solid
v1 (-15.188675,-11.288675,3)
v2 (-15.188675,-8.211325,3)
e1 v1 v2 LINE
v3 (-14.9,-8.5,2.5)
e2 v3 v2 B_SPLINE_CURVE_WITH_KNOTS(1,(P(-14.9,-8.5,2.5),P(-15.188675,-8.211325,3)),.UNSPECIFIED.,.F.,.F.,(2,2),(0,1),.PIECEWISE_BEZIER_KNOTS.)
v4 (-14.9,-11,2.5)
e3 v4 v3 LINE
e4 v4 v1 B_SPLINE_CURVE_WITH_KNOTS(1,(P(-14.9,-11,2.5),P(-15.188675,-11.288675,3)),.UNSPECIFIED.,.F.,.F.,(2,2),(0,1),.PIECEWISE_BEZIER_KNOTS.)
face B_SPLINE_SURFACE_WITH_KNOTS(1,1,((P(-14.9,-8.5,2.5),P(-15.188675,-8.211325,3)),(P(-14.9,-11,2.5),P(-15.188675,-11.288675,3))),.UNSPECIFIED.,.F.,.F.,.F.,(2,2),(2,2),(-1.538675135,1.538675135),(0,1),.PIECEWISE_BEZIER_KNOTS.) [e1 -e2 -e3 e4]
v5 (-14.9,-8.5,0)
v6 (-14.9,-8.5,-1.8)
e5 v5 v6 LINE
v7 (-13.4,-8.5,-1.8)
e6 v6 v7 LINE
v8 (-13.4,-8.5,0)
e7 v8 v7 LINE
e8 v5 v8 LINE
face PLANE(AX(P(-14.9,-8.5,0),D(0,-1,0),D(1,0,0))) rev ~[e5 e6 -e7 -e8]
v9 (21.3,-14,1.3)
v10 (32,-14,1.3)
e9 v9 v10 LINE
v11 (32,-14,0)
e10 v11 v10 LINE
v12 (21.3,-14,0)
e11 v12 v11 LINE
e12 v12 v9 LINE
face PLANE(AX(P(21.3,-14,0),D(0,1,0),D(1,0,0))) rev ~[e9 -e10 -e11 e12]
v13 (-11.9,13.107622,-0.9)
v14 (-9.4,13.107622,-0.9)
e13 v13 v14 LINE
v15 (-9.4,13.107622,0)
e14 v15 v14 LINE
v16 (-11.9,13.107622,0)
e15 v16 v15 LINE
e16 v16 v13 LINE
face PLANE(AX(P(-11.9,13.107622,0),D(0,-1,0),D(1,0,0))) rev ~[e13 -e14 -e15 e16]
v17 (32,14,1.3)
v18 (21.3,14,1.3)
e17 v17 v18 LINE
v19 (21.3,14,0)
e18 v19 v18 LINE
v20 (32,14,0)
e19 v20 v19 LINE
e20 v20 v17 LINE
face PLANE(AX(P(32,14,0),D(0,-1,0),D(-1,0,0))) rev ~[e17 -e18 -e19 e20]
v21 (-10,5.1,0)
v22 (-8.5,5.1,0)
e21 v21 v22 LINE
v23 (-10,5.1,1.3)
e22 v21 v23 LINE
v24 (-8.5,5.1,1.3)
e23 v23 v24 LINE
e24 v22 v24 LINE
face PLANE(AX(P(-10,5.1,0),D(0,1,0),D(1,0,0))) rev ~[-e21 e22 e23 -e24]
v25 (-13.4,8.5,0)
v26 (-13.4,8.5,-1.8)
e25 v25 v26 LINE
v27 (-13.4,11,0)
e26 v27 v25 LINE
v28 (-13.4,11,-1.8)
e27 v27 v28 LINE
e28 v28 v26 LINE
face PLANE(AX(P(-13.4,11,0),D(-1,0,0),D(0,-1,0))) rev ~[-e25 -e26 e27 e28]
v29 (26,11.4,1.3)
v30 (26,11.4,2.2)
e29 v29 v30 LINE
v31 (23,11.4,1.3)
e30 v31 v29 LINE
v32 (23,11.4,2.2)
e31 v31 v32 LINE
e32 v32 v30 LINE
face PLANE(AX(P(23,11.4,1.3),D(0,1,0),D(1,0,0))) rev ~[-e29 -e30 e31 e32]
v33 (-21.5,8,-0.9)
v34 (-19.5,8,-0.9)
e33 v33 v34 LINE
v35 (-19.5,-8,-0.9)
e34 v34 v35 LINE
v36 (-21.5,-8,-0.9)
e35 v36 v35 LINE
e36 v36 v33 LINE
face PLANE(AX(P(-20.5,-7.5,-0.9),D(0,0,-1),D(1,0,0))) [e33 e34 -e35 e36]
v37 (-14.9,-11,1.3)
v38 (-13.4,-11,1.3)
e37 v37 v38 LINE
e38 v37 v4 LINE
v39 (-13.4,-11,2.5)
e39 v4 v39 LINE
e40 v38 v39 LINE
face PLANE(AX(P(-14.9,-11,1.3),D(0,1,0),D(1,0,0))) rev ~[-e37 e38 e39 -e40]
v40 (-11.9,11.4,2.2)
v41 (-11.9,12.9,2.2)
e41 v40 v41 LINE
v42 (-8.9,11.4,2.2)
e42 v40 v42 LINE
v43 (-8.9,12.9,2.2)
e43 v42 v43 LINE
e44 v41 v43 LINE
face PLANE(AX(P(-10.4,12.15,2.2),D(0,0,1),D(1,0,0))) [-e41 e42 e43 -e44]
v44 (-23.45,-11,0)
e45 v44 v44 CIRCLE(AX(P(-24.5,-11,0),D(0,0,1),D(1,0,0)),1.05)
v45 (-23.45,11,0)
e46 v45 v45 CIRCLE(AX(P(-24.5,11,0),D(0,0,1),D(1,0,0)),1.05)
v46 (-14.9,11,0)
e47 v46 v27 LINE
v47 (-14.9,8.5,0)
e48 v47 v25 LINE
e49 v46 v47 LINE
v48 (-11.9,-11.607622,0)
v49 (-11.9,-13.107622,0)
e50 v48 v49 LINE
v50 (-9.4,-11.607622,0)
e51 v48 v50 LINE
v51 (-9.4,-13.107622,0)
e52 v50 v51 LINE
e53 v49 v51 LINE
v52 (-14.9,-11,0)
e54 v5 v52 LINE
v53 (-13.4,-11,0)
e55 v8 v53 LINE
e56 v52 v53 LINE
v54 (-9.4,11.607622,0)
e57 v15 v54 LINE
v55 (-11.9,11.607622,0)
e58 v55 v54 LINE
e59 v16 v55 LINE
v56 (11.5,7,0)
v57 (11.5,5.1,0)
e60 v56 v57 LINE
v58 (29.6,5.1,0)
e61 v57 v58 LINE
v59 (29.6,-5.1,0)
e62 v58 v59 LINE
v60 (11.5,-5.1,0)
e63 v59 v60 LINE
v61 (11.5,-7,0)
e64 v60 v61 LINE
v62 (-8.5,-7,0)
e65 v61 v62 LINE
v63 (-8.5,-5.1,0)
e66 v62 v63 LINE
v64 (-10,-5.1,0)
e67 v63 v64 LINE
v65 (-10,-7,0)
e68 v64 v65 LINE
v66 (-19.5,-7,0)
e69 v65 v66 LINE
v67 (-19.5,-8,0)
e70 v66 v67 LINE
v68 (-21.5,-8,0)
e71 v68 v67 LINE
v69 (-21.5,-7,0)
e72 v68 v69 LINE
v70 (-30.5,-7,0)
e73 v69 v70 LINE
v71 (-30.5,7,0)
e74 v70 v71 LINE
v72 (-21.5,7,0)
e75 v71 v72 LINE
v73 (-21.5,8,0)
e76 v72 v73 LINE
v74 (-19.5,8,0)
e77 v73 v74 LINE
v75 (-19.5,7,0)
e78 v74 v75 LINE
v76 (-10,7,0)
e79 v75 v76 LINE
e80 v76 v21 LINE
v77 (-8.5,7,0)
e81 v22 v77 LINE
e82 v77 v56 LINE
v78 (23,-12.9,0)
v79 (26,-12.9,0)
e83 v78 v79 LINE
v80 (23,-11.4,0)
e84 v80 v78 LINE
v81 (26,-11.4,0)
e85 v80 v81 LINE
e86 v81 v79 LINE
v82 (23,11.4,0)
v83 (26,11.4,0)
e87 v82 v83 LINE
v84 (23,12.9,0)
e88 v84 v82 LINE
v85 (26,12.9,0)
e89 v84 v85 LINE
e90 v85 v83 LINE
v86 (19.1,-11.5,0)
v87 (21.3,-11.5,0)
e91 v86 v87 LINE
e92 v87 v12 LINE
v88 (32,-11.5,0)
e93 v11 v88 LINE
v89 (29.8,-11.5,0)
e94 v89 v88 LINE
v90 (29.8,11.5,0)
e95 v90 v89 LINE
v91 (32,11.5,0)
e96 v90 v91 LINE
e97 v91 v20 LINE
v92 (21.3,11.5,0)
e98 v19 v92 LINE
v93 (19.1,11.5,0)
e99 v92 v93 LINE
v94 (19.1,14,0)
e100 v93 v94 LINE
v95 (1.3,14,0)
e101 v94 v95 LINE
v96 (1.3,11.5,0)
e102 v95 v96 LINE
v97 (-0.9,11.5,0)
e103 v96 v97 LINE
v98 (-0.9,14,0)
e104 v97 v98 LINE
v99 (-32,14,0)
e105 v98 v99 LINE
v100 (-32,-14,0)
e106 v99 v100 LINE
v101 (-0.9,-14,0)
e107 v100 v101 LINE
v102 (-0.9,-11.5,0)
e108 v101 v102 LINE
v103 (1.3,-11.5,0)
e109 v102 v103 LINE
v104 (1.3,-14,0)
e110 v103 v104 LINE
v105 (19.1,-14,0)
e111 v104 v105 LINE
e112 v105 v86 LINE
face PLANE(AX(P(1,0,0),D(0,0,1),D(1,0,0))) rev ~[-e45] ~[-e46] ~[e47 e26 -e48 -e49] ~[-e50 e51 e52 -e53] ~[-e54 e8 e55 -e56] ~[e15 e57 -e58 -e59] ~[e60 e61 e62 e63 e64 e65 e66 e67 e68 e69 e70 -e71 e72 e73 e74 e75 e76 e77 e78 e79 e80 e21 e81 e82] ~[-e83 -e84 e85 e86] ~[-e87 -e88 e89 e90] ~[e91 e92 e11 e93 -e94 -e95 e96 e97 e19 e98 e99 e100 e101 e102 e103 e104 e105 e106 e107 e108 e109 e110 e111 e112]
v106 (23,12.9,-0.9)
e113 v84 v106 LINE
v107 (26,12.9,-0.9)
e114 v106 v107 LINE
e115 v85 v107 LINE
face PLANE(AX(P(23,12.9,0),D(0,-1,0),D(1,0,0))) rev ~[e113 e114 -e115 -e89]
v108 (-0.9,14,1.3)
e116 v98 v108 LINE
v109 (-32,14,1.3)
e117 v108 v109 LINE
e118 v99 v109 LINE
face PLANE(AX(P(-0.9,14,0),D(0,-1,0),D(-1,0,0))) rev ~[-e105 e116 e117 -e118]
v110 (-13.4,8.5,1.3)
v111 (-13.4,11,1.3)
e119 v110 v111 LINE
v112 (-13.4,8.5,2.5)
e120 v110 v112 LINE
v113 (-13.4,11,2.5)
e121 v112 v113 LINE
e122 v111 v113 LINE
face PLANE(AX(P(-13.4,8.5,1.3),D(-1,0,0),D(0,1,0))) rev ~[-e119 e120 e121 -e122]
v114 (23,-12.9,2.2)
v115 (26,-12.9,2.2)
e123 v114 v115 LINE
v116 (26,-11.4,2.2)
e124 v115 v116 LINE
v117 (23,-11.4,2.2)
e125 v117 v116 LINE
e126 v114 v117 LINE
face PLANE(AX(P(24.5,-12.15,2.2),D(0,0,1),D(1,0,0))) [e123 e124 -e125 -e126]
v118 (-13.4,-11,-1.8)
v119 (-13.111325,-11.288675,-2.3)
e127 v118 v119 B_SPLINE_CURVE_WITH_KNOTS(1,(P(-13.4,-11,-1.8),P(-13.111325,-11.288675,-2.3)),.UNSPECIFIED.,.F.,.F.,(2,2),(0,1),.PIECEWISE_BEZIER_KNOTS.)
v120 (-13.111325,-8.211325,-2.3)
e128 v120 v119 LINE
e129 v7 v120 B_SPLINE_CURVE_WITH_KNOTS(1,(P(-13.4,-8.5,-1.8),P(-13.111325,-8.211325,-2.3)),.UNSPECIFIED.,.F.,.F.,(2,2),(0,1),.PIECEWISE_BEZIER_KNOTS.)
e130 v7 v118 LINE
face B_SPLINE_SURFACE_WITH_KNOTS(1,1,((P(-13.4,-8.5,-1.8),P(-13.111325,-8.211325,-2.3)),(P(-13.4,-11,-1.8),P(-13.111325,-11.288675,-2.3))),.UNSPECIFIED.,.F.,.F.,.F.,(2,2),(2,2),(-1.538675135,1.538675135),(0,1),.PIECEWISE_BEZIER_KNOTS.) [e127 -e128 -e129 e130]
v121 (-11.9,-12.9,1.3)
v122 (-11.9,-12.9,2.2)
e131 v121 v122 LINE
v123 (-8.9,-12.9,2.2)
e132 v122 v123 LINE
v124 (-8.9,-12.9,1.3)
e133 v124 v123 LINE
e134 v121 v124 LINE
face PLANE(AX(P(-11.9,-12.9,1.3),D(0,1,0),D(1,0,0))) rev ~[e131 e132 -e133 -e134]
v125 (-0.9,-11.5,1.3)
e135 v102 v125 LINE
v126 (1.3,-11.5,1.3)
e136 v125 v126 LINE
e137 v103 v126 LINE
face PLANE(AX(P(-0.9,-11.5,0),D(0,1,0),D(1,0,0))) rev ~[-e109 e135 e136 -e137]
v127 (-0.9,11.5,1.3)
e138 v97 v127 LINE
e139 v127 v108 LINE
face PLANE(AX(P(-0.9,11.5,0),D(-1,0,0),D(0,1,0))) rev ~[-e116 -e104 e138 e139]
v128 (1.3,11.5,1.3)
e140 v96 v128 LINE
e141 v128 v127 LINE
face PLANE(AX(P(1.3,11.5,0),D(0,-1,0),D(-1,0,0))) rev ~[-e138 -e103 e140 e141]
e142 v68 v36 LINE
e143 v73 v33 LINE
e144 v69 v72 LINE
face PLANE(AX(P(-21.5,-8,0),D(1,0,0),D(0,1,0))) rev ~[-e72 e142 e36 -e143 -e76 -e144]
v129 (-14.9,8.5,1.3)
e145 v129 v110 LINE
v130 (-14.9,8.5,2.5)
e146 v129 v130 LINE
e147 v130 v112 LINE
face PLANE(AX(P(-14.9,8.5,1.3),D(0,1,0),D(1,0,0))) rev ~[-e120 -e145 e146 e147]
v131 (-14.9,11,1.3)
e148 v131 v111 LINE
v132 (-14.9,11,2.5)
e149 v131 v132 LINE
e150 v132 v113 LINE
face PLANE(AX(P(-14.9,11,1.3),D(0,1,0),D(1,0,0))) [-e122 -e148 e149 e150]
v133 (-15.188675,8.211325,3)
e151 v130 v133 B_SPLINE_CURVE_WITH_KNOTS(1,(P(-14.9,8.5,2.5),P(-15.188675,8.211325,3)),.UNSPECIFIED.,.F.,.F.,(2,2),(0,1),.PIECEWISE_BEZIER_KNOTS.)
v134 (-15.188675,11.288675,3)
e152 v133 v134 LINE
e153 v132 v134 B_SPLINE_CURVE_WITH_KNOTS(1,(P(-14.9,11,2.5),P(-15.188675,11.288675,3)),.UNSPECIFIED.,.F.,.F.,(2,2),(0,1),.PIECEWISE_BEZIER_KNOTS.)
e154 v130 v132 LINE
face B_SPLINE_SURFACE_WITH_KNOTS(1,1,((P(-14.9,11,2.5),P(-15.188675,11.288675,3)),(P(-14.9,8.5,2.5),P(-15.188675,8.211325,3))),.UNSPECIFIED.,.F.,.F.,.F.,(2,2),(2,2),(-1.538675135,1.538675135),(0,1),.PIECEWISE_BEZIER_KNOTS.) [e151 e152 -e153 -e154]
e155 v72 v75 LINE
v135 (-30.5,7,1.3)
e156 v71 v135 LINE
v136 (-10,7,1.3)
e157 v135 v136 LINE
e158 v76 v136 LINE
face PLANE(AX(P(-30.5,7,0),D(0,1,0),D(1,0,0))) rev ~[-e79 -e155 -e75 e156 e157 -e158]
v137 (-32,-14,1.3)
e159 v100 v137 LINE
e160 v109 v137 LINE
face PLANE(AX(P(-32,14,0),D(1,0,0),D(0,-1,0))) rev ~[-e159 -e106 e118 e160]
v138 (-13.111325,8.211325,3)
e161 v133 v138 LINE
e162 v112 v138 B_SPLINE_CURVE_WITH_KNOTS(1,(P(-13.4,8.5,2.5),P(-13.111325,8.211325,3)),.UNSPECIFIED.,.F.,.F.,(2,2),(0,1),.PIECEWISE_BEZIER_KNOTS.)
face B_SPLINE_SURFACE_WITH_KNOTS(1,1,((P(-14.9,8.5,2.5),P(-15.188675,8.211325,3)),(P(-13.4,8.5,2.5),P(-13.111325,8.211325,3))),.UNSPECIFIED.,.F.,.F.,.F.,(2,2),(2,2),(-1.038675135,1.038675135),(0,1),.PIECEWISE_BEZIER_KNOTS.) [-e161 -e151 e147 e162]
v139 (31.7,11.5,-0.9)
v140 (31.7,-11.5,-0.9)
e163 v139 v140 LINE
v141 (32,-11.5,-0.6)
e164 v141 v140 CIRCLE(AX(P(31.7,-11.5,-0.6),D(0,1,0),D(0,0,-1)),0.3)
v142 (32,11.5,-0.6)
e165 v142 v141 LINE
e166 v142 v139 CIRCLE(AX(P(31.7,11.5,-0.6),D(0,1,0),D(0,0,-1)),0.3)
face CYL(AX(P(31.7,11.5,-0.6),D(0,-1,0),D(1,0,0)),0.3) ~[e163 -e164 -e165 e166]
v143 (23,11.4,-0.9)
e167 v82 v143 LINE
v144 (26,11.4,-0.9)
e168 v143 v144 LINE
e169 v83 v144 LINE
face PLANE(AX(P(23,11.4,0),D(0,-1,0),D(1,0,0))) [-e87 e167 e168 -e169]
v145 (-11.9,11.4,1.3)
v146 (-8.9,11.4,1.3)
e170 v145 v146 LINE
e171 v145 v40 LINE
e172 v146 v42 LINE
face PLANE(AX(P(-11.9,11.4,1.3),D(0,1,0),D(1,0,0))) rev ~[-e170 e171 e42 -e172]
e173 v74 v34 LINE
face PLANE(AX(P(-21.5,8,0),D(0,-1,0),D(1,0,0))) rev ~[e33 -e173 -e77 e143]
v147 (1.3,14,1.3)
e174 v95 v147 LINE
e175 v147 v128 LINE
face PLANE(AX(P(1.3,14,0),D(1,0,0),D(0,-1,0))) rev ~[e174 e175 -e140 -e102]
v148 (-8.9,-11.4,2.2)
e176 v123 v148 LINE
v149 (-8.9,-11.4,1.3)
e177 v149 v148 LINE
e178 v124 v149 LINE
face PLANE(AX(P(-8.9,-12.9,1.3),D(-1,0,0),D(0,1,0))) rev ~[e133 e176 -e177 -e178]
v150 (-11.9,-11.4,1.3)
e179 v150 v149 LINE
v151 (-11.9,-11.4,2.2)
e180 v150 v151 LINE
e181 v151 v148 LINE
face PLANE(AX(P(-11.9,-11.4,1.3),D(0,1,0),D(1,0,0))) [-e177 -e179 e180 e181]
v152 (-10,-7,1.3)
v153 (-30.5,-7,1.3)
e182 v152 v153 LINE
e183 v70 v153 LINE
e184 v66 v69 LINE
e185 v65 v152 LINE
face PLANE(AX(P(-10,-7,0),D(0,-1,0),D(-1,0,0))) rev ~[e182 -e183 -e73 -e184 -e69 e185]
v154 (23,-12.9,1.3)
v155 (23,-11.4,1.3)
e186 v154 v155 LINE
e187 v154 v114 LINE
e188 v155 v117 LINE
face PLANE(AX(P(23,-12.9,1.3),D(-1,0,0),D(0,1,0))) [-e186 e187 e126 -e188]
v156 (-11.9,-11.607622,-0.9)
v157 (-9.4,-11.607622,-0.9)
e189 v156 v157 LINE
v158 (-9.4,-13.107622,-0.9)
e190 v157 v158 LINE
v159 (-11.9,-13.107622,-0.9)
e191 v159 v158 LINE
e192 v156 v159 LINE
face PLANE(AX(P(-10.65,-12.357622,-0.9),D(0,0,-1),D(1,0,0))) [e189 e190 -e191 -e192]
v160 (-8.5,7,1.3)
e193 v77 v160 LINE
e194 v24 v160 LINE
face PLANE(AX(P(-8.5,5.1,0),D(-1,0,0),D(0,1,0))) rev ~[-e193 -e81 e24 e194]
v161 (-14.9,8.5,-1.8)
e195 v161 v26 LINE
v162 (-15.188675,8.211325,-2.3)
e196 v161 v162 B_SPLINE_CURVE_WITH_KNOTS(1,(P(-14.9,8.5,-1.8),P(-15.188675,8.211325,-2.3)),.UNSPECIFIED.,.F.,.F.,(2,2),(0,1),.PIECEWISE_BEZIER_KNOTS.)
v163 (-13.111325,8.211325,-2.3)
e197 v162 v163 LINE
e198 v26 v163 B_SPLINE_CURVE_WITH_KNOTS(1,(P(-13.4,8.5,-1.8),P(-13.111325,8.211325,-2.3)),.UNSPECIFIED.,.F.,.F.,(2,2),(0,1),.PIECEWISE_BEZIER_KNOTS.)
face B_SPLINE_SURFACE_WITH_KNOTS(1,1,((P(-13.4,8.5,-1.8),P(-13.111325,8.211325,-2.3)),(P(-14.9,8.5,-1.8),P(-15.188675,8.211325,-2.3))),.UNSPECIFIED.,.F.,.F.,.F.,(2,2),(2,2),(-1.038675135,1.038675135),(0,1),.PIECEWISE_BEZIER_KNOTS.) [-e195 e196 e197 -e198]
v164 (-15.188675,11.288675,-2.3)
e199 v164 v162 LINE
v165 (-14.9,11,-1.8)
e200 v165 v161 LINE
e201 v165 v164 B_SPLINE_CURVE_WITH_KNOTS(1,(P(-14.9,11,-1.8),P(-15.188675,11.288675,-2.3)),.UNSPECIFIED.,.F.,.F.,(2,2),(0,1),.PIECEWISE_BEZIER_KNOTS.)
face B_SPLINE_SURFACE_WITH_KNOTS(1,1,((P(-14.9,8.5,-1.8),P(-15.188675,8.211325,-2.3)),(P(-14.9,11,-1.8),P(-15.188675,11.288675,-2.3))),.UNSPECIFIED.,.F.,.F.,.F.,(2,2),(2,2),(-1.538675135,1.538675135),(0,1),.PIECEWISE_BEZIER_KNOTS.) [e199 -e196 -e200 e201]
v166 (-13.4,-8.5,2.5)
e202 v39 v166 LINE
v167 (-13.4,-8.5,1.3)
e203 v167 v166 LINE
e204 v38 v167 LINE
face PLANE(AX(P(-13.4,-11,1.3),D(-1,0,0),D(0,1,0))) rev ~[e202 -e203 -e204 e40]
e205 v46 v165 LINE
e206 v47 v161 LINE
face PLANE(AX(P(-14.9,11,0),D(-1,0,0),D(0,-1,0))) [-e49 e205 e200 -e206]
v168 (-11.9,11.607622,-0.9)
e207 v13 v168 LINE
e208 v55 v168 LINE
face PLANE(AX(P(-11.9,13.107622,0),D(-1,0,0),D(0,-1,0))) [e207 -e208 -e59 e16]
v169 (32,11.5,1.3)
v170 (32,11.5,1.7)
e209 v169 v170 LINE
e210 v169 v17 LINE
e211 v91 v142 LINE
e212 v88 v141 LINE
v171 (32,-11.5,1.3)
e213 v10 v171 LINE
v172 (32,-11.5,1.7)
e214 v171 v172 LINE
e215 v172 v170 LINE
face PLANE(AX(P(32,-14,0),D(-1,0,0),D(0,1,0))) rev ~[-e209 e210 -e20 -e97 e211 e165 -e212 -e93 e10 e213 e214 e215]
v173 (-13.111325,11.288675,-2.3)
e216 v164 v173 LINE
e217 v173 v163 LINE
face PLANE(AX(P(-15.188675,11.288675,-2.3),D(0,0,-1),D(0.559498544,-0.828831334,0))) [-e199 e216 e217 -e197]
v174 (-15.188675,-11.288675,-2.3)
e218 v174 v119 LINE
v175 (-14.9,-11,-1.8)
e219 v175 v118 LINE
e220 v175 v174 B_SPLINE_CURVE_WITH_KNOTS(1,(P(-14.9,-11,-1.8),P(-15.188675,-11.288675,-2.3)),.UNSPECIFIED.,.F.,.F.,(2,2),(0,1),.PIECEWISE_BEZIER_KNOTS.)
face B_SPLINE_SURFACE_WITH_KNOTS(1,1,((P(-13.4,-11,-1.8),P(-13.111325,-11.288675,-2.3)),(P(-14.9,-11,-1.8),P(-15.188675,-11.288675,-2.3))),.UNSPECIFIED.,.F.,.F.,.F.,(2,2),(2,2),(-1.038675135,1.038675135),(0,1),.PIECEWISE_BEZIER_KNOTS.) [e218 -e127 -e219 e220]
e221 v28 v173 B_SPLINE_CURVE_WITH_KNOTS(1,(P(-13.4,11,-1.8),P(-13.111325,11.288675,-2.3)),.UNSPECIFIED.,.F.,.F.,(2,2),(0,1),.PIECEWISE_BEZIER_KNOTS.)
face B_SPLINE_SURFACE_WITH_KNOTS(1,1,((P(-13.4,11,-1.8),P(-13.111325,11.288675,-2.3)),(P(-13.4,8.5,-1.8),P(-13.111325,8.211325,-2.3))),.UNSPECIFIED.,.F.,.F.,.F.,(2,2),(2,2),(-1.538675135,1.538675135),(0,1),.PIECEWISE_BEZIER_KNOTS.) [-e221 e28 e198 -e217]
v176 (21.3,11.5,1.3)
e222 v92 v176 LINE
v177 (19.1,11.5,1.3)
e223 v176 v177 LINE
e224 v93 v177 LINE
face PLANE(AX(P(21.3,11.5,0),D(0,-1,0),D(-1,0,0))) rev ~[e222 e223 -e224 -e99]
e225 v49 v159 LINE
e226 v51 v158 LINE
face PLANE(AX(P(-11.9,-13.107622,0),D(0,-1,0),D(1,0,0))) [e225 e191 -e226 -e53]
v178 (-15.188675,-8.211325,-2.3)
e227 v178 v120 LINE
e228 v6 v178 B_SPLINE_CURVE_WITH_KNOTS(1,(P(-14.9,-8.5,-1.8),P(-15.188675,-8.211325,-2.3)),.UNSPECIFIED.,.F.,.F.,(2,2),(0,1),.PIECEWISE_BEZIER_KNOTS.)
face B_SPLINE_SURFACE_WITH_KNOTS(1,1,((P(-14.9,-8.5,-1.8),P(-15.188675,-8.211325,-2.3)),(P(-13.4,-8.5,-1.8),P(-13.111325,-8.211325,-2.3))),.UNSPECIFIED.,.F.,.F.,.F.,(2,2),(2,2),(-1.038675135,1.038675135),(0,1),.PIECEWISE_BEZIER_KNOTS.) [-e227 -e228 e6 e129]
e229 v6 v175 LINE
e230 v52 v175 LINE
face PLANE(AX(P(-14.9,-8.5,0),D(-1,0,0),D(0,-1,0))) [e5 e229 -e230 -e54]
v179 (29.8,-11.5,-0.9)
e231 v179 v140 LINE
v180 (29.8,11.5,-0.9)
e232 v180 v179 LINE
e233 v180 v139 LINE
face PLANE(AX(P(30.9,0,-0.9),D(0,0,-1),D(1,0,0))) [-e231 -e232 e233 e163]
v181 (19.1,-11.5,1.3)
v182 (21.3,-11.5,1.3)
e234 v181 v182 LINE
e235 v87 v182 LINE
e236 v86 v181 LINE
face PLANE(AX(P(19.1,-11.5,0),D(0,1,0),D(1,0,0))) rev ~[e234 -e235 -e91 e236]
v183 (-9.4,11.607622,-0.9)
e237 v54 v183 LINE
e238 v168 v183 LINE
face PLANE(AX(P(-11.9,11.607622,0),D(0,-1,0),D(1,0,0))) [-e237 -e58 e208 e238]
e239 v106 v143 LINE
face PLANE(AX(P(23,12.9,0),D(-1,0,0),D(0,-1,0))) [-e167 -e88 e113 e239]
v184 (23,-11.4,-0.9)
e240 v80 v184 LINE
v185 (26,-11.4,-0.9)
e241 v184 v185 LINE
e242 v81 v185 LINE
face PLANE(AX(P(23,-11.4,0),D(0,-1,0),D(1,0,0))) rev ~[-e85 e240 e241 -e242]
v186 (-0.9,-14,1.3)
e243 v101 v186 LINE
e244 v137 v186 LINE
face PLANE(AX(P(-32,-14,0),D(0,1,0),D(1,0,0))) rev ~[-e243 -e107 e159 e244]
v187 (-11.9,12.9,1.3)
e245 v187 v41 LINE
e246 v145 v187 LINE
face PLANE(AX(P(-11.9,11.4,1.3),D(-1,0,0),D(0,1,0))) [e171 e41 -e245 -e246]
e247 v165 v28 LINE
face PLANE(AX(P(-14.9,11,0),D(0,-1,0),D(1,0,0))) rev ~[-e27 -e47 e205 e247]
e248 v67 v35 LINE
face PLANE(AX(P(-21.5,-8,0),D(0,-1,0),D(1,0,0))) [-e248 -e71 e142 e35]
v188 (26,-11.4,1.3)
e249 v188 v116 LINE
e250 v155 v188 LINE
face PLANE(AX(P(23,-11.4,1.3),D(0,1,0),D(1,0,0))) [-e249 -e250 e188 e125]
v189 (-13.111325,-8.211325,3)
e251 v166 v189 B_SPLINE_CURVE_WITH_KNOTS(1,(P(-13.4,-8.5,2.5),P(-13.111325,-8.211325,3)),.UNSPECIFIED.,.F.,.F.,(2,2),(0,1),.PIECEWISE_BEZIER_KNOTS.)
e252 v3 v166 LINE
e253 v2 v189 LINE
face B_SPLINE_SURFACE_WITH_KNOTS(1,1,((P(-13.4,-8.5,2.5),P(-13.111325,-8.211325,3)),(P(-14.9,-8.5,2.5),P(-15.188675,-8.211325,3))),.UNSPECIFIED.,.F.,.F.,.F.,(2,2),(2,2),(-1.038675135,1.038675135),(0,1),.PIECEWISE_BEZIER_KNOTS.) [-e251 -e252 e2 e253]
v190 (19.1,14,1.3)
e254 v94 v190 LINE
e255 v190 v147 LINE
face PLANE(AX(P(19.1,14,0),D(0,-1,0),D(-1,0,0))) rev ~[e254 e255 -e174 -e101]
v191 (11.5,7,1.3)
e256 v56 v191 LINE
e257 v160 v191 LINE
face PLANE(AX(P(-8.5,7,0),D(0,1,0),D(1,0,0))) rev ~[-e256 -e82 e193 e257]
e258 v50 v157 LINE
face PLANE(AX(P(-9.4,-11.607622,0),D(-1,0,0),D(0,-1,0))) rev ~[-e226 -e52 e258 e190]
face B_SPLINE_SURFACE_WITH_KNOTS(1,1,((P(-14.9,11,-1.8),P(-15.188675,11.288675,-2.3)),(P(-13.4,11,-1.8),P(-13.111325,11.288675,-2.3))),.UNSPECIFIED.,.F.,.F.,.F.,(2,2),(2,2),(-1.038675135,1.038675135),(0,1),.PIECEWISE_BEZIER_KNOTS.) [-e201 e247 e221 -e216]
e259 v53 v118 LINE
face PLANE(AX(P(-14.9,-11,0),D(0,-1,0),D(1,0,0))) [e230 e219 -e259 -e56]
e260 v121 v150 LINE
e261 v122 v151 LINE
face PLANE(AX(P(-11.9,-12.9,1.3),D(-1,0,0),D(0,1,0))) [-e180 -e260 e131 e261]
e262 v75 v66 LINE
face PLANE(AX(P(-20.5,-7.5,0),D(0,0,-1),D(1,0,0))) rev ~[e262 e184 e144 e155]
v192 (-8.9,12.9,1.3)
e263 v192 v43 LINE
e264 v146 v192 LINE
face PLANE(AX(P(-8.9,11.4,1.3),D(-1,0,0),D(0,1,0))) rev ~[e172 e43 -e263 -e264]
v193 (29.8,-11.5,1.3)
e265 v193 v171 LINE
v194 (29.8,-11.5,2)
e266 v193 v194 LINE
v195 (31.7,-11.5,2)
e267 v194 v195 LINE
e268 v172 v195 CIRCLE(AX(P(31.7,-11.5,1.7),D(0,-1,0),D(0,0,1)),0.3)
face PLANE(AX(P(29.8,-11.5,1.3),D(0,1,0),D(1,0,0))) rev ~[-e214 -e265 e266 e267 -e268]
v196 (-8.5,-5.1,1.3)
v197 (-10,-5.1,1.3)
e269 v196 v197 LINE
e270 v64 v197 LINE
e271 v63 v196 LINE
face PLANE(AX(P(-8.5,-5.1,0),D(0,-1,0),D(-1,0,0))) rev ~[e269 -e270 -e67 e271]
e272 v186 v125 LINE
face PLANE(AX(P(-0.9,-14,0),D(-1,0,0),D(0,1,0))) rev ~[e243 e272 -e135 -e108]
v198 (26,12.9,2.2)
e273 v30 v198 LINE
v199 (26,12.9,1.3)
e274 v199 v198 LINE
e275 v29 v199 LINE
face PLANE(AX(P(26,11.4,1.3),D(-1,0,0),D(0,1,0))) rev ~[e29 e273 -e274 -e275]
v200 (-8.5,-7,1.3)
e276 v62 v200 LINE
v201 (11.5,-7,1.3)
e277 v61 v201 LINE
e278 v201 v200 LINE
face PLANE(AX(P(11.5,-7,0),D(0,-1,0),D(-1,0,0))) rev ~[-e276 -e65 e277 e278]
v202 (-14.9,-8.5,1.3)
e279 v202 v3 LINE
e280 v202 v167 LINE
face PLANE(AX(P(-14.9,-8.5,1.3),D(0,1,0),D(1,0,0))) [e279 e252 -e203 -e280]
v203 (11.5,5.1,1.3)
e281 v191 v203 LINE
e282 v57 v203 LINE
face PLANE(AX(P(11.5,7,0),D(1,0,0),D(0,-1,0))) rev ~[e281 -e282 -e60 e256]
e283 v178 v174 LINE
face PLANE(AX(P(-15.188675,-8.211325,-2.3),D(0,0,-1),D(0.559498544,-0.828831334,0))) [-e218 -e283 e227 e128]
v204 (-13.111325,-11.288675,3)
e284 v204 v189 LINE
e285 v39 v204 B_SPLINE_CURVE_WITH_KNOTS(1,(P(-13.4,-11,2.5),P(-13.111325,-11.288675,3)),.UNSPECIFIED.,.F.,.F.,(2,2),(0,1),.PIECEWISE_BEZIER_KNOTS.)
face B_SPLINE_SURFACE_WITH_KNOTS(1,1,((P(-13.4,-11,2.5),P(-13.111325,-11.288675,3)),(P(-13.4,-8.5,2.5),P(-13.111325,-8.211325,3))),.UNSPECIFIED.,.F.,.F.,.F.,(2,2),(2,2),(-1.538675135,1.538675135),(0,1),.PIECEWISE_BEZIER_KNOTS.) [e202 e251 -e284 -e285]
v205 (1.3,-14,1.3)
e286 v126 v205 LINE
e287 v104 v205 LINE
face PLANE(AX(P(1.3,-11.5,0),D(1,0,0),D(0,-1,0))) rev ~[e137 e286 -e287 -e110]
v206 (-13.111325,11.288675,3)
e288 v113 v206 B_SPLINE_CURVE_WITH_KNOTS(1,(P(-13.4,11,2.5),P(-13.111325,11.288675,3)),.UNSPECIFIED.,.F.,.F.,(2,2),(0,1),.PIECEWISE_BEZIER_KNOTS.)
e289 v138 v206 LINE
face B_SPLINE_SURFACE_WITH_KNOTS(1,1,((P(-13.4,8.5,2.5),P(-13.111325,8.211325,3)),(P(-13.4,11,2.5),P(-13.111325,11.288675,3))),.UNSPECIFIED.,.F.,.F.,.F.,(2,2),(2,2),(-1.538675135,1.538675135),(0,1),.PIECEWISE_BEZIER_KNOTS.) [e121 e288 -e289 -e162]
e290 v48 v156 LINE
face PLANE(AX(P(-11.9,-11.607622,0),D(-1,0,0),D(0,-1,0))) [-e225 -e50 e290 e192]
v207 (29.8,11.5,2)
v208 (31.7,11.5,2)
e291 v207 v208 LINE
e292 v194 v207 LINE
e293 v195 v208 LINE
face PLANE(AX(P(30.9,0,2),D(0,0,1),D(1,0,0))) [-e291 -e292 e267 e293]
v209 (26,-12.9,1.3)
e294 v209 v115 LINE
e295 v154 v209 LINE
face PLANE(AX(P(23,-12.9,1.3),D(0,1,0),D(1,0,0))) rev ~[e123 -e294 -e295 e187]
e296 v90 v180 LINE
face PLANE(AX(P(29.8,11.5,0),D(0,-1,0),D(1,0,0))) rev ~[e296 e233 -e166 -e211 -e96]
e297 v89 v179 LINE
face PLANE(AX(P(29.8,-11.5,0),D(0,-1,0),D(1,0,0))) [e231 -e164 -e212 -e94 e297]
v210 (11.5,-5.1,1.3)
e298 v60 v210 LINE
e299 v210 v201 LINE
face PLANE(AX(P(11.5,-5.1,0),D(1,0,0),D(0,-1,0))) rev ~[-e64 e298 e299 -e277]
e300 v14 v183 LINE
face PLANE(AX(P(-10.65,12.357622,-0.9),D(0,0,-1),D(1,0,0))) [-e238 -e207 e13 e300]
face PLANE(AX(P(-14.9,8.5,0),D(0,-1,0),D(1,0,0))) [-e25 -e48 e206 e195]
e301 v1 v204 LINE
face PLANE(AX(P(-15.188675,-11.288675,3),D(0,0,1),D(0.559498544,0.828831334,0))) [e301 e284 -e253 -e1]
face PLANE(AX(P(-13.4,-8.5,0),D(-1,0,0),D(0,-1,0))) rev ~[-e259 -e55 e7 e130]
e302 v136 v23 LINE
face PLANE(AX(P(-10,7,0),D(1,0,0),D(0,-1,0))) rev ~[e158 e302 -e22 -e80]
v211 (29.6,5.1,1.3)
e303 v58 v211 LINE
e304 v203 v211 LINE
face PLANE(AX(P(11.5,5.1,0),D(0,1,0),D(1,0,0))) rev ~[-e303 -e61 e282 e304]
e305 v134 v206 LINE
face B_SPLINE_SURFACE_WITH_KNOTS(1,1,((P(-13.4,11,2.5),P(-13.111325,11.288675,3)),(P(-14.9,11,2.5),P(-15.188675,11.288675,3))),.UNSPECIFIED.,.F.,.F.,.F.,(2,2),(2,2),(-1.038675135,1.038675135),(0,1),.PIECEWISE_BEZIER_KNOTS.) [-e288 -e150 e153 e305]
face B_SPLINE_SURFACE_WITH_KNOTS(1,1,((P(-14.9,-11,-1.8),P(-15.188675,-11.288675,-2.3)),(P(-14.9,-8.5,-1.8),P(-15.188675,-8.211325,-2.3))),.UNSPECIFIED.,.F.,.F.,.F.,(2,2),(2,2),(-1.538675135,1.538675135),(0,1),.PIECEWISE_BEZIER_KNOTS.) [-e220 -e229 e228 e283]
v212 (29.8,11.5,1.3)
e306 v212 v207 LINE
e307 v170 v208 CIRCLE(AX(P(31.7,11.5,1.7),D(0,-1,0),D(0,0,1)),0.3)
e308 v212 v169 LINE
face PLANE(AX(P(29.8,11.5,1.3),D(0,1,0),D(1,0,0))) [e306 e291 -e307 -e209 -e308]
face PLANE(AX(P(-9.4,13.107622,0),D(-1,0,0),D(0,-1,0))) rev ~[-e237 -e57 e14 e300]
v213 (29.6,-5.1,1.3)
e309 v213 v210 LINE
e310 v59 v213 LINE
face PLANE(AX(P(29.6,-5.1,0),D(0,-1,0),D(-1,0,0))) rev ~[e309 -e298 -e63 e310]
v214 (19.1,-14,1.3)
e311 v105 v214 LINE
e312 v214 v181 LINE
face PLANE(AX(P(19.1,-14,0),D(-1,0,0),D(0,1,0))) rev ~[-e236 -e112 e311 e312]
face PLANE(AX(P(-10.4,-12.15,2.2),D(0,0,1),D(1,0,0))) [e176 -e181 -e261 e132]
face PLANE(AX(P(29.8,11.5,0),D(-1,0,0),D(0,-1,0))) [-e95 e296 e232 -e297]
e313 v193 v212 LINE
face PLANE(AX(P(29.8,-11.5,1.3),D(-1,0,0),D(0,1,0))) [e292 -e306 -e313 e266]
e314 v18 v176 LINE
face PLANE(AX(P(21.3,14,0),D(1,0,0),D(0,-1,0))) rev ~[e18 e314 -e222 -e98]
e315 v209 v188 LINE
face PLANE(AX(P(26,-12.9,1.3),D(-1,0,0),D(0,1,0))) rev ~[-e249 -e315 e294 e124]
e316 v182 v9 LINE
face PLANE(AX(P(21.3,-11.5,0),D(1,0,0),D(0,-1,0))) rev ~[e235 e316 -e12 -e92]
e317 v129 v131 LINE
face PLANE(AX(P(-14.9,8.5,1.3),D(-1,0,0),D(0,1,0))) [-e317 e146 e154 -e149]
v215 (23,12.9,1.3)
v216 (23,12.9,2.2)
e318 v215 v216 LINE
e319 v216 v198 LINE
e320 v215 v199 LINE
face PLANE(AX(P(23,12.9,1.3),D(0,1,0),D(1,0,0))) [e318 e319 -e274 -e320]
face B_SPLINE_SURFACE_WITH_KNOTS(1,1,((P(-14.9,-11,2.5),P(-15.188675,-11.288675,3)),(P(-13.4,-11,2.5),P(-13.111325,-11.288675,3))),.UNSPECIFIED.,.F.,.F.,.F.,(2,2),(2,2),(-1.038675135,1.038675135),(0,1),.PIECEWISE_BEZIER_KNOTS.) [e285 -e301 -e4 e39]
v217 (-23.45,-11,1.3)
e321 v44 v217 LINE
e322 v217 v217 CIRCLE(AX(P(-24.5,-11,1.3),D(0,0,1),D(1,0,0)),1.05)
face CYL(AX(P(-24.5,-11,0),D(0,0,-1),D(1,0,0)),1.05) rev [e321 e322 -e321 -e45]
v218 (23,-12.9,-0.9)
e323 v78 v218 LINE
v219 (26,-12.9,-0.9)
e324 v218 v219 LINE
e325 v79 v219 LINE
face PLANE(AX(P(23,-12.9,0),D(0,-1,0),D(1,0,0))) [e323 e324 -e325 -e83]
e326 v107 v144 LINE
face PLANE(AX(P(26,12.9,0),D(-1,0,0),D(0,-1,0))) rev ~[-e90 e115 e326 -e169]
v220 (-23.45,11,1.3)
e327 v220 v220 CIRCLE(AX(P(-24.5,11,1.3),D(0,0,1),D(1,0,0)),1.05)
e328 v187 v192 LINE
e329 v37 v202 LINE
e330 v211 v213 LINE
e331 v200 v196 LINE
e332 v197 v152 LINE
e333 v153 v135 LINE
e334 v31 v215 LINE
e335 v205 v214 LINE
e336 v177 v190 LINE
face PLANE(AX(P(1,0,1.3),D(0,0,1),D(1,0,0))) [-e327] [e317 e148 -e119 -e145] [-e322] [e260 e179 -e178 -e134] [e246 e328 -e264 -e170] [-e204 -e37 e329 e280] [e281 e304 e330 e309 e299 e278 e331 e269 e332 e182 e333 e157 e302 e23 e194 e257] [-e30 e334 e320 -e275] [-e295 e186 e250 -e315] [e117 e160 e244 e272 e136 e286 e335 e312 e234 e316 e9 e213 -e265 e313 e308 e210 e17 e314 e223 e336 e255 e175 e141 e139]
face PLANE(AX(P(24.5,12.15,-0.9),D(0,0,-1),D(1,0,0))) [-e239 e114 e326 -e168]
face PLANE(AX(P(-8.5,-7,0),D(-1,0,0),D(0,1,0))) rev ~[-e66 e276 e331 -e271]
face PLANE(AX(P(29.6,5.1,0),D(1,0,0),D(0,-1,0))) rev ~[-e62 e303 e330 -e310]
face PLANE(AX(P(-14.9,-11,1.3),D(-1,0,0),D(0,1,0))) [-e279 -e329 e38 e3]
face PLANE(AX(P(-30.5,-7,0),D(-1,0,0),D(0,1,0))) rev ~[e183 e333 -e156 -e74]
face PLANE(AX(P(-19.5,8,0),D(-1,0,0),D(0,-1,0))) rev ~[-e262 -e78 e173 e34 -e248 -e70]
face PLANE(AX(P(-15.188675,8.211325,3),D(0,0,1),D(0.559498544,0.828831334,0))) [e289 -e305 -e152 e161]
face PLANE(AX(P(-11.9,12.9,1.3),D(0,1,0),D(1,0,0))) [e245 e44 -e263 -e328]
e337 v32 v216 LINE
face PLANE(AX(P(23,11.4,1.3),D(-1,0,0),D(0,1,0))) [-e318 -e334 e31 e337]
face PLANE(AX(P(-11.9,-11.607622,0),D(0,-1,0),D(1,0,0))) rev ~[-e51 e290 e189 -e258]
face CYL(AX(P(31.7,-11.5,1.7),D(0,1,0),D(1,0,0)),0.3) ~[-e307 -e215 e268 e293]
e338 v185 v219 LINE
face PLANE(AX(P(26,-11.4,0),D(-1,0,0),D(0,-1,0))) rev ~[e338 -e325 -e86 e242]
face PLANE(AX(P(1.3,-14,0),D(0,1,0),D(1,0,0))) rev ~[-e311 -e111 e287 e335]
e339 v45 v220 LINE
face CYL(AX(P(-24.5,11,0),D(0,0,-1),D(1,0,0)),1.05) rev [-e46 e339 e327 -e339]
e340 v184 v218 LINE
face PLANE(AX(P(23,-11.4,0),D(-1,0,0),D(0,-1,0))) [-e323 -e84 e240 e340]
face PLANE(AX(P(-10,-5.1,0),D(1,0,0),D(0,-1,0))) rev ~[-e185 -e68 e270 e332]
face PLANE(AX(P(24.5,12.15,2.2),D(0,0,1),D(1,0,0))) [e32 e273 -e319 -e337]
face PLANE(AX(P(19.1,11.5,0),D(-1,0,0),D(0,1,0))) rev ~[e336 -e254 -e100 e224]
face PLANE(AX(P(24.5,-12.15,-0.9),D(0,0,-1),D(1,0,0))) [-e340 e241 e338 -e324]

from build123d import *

# Parameters (mm, degrees)
F0_R      = 1.05
F1_DEPTH  = 1.3
F3_W      = 2.2
F3_H      = 23
F4_DEPTH  = 0.7
F5_W      = 2.5
F5_H      = 1.5
F5_W_2    = 3
F5_W_3    = 2.2
F5_H_2    = 23
F6_DEPTH  = 0.9
F7_R      = 0.3
F8_R      = 0.3
F9_W      = 2
F9_H      = 1
F9_H_2    = 14
F10_DEPTH = 0.9
F3_W_2    = 3
F3_H_2    = 1.5
F11_DEPTH = 0.9
F5_W_4    = 1.5
F5_H_3    = 2.5
F12_DEPTH = 1.8
F13_W     = 1.5
F13_H     = 2.5
F14_DEPTH = 0.5
F14_TAPER = -30
F3_W_3    = 1.5
F3_H_3    = 2.5
F15_DEPTH = 1.2
F16_W     = 1.5
F16_H     = 2.5
F17_DEPTH = 0.5
F17_TAPER = -30


with BuildPart() as f1:
    # F0 (on Top) → F1 (new body)
    with BuildSketch(Plane.XY):
        Polygon((21.3, -14), (32, -14), (32, 14), (21.3, 14), (21.3, 11.5), (19.1, 11.5), (19.1, 14), (1.3, 14), (1.3, 11.5), (-0.9, 11.5), (-0.9, 14), (-32, 14), (-32, -14), (-0.9, -14), (-0.9, -11.5), (1.3, -11.5), (1.3, -14), (19.1, -14), (19.1, -11.5), (21.3, -11.5), align=None)
        with Locations((-24.5, -11)):
            Circle(F0_R, mode=Mode.SUBTRACT)
        Polygon((-10, 7), (-10, 5.1), (-8.5, 5.1), (-8.5, 7), (11.5, 7), (11.5, 5.1), (29.6, 5.1), (29.6, -5.1), (11.5, -5.1), (11.5, -7), (-8.5, -7), (-8.5, -5.1), (-10, -5.1), (-10, -7), (-30.5, -7), (-30.5, -5.1), (-30.5, 5.1), (-30.5, 7), align=None, mode=Mode.SUBTRACT)
        with Locations((-24.5, 11)):
            Circle(F0_R, mode=Mode.SUBTRACT)
    extrude(amount=F1_DEPTH)

    # F3 (on face) → F4 (join)
    with BuildSketch(Plane.XY.offset(1.3)):
        with Locations((30.9, 0)):
            Rectangle(F3_W, F3_H)
    extrude(amount=F4_DEPTH)

    # F5 (on face) → F6 (join)
    with BuildSketch(Plane(origin=(0, 0, 0), x_dir=(1, 0, 0), z_dir=(0, 0, -1))):
        with Locations((-10.65, 12.3576217964)):
            Rectangle(F5_W, F5_H)
        with Locations((-10.65, -12.3576217964)):
            Rectangle(F5_W, F5_H)
        with Locations((24.5, -12.15)):
            Rectangle(F5_W_2, F5_H)
        with Locations((30.9, 0)):
            Rectangle(F5_W_3, F5_H_2)
        with Locations((24.5, 12.15)):
            Rectangle(F5_W_2, F5_H)
    extrude(amount=F6_DEPTH)

    # F7
    f7_edges = [f1.edges().sort_by_distance(p)[0] for p in [
        (32, 0, -0.9),
    ]]
    fillet(f7_edges, radius=F7_R)

    # F8
    f8_edges = [f1.edges().sort_by_distance(p)[0] for p in [
        (32, 0, 2),
    ]]
    fillet(f8_edges, radius=F8_R)

    # F9 (on face) → F10 (join)
    with BuildSketch(Plane(origin=(0, 0, 0), x_dir=(1, 0, 0), z_dir=(0, 0, -1))):
        with Locations((-20.5, 7.5)):
            Rectangle(F9_W, F9_H)
        with Locations((-20.5, -7.5)):
            Rectangle(F9_W, F9_H)
        with Locations((-20.5, 0)):
            Rectangle(F9_W, F9_H_2)
    extrude(amount=F10_DEPTH)

    # F3 (on face) → F11 (join)
    with BuildSketch(Plane.XY.offset(1.3)):
        with Locations((-10.4, 12.15)):
            Rectangle(F3_W_2, F3_H_2)
        with Locations((-10.4, -12.15)):
            Rectangle(F3_W_2, F3_H_2)
        with Locations((24.5, -12.15)):
            Rectangle(F3_W_2, F3_H_2)
        with Locations((24.5, 12.15)):
            Rectangle(F3_W_2, F3_H_2)
    extrude(amount=F11_DEPTH)

    # F5 (on face) → F12 (join)
    with BuildSketch(Plane(origin=(0, 0, 0), x_dir=(1, 0, 0), z_dir=(0, 0, -1))):
        with Locations((-14.15, 9.75)):
            Rectangle(F5_W_4, F5_H_3)
        with Locations((-14.15, -9.75)):
            Rectangle(F5_W_4, F5_H_3)
    extrude(amount=F12_DEPTH)

    # F13 (on face) → F14 (join)
    with BuildSketch(Plane(origin=(0, 0, -1.8), x_dir=(1, 0, 0), z_dir=(0, 0, -1))):
        with Locations((-14.15, 9.75)):
            Rectangle(F13_W, F13_H)
        with Locations((-14.15, -9.75)):
            Rectangle(F13_W, F13_H)
    extrude(amount=F14_DEPTH, taper=F14_TAPER)

    # F3 (on face) → F15 (join)
    with BuildSketch(Plane.XY.offset(1.3)):
        with Locations((-14.15, 9.75)):
            Rectangle(F3_W_3, F3_H_3)
        with Locations((-14.15, -9.75)):
            Rectangle(F3_W_3, F3_H_3)
    extrude(amount=F15_DEPTH)

    # F16 (on face) → F17 (join)
    with BuildSketch(Plane.XY.offset(2.5)):
        with Locations((-14.15, 9.75)):
            Rectangle(F16_W, F16_H)
        with Locations((-14.15, -9.75)):
            Rectangle(F16_W, F16_H)
    extrude(amount=F17_DEPTH, taper=F17_TAPER)


solid = f1.part
